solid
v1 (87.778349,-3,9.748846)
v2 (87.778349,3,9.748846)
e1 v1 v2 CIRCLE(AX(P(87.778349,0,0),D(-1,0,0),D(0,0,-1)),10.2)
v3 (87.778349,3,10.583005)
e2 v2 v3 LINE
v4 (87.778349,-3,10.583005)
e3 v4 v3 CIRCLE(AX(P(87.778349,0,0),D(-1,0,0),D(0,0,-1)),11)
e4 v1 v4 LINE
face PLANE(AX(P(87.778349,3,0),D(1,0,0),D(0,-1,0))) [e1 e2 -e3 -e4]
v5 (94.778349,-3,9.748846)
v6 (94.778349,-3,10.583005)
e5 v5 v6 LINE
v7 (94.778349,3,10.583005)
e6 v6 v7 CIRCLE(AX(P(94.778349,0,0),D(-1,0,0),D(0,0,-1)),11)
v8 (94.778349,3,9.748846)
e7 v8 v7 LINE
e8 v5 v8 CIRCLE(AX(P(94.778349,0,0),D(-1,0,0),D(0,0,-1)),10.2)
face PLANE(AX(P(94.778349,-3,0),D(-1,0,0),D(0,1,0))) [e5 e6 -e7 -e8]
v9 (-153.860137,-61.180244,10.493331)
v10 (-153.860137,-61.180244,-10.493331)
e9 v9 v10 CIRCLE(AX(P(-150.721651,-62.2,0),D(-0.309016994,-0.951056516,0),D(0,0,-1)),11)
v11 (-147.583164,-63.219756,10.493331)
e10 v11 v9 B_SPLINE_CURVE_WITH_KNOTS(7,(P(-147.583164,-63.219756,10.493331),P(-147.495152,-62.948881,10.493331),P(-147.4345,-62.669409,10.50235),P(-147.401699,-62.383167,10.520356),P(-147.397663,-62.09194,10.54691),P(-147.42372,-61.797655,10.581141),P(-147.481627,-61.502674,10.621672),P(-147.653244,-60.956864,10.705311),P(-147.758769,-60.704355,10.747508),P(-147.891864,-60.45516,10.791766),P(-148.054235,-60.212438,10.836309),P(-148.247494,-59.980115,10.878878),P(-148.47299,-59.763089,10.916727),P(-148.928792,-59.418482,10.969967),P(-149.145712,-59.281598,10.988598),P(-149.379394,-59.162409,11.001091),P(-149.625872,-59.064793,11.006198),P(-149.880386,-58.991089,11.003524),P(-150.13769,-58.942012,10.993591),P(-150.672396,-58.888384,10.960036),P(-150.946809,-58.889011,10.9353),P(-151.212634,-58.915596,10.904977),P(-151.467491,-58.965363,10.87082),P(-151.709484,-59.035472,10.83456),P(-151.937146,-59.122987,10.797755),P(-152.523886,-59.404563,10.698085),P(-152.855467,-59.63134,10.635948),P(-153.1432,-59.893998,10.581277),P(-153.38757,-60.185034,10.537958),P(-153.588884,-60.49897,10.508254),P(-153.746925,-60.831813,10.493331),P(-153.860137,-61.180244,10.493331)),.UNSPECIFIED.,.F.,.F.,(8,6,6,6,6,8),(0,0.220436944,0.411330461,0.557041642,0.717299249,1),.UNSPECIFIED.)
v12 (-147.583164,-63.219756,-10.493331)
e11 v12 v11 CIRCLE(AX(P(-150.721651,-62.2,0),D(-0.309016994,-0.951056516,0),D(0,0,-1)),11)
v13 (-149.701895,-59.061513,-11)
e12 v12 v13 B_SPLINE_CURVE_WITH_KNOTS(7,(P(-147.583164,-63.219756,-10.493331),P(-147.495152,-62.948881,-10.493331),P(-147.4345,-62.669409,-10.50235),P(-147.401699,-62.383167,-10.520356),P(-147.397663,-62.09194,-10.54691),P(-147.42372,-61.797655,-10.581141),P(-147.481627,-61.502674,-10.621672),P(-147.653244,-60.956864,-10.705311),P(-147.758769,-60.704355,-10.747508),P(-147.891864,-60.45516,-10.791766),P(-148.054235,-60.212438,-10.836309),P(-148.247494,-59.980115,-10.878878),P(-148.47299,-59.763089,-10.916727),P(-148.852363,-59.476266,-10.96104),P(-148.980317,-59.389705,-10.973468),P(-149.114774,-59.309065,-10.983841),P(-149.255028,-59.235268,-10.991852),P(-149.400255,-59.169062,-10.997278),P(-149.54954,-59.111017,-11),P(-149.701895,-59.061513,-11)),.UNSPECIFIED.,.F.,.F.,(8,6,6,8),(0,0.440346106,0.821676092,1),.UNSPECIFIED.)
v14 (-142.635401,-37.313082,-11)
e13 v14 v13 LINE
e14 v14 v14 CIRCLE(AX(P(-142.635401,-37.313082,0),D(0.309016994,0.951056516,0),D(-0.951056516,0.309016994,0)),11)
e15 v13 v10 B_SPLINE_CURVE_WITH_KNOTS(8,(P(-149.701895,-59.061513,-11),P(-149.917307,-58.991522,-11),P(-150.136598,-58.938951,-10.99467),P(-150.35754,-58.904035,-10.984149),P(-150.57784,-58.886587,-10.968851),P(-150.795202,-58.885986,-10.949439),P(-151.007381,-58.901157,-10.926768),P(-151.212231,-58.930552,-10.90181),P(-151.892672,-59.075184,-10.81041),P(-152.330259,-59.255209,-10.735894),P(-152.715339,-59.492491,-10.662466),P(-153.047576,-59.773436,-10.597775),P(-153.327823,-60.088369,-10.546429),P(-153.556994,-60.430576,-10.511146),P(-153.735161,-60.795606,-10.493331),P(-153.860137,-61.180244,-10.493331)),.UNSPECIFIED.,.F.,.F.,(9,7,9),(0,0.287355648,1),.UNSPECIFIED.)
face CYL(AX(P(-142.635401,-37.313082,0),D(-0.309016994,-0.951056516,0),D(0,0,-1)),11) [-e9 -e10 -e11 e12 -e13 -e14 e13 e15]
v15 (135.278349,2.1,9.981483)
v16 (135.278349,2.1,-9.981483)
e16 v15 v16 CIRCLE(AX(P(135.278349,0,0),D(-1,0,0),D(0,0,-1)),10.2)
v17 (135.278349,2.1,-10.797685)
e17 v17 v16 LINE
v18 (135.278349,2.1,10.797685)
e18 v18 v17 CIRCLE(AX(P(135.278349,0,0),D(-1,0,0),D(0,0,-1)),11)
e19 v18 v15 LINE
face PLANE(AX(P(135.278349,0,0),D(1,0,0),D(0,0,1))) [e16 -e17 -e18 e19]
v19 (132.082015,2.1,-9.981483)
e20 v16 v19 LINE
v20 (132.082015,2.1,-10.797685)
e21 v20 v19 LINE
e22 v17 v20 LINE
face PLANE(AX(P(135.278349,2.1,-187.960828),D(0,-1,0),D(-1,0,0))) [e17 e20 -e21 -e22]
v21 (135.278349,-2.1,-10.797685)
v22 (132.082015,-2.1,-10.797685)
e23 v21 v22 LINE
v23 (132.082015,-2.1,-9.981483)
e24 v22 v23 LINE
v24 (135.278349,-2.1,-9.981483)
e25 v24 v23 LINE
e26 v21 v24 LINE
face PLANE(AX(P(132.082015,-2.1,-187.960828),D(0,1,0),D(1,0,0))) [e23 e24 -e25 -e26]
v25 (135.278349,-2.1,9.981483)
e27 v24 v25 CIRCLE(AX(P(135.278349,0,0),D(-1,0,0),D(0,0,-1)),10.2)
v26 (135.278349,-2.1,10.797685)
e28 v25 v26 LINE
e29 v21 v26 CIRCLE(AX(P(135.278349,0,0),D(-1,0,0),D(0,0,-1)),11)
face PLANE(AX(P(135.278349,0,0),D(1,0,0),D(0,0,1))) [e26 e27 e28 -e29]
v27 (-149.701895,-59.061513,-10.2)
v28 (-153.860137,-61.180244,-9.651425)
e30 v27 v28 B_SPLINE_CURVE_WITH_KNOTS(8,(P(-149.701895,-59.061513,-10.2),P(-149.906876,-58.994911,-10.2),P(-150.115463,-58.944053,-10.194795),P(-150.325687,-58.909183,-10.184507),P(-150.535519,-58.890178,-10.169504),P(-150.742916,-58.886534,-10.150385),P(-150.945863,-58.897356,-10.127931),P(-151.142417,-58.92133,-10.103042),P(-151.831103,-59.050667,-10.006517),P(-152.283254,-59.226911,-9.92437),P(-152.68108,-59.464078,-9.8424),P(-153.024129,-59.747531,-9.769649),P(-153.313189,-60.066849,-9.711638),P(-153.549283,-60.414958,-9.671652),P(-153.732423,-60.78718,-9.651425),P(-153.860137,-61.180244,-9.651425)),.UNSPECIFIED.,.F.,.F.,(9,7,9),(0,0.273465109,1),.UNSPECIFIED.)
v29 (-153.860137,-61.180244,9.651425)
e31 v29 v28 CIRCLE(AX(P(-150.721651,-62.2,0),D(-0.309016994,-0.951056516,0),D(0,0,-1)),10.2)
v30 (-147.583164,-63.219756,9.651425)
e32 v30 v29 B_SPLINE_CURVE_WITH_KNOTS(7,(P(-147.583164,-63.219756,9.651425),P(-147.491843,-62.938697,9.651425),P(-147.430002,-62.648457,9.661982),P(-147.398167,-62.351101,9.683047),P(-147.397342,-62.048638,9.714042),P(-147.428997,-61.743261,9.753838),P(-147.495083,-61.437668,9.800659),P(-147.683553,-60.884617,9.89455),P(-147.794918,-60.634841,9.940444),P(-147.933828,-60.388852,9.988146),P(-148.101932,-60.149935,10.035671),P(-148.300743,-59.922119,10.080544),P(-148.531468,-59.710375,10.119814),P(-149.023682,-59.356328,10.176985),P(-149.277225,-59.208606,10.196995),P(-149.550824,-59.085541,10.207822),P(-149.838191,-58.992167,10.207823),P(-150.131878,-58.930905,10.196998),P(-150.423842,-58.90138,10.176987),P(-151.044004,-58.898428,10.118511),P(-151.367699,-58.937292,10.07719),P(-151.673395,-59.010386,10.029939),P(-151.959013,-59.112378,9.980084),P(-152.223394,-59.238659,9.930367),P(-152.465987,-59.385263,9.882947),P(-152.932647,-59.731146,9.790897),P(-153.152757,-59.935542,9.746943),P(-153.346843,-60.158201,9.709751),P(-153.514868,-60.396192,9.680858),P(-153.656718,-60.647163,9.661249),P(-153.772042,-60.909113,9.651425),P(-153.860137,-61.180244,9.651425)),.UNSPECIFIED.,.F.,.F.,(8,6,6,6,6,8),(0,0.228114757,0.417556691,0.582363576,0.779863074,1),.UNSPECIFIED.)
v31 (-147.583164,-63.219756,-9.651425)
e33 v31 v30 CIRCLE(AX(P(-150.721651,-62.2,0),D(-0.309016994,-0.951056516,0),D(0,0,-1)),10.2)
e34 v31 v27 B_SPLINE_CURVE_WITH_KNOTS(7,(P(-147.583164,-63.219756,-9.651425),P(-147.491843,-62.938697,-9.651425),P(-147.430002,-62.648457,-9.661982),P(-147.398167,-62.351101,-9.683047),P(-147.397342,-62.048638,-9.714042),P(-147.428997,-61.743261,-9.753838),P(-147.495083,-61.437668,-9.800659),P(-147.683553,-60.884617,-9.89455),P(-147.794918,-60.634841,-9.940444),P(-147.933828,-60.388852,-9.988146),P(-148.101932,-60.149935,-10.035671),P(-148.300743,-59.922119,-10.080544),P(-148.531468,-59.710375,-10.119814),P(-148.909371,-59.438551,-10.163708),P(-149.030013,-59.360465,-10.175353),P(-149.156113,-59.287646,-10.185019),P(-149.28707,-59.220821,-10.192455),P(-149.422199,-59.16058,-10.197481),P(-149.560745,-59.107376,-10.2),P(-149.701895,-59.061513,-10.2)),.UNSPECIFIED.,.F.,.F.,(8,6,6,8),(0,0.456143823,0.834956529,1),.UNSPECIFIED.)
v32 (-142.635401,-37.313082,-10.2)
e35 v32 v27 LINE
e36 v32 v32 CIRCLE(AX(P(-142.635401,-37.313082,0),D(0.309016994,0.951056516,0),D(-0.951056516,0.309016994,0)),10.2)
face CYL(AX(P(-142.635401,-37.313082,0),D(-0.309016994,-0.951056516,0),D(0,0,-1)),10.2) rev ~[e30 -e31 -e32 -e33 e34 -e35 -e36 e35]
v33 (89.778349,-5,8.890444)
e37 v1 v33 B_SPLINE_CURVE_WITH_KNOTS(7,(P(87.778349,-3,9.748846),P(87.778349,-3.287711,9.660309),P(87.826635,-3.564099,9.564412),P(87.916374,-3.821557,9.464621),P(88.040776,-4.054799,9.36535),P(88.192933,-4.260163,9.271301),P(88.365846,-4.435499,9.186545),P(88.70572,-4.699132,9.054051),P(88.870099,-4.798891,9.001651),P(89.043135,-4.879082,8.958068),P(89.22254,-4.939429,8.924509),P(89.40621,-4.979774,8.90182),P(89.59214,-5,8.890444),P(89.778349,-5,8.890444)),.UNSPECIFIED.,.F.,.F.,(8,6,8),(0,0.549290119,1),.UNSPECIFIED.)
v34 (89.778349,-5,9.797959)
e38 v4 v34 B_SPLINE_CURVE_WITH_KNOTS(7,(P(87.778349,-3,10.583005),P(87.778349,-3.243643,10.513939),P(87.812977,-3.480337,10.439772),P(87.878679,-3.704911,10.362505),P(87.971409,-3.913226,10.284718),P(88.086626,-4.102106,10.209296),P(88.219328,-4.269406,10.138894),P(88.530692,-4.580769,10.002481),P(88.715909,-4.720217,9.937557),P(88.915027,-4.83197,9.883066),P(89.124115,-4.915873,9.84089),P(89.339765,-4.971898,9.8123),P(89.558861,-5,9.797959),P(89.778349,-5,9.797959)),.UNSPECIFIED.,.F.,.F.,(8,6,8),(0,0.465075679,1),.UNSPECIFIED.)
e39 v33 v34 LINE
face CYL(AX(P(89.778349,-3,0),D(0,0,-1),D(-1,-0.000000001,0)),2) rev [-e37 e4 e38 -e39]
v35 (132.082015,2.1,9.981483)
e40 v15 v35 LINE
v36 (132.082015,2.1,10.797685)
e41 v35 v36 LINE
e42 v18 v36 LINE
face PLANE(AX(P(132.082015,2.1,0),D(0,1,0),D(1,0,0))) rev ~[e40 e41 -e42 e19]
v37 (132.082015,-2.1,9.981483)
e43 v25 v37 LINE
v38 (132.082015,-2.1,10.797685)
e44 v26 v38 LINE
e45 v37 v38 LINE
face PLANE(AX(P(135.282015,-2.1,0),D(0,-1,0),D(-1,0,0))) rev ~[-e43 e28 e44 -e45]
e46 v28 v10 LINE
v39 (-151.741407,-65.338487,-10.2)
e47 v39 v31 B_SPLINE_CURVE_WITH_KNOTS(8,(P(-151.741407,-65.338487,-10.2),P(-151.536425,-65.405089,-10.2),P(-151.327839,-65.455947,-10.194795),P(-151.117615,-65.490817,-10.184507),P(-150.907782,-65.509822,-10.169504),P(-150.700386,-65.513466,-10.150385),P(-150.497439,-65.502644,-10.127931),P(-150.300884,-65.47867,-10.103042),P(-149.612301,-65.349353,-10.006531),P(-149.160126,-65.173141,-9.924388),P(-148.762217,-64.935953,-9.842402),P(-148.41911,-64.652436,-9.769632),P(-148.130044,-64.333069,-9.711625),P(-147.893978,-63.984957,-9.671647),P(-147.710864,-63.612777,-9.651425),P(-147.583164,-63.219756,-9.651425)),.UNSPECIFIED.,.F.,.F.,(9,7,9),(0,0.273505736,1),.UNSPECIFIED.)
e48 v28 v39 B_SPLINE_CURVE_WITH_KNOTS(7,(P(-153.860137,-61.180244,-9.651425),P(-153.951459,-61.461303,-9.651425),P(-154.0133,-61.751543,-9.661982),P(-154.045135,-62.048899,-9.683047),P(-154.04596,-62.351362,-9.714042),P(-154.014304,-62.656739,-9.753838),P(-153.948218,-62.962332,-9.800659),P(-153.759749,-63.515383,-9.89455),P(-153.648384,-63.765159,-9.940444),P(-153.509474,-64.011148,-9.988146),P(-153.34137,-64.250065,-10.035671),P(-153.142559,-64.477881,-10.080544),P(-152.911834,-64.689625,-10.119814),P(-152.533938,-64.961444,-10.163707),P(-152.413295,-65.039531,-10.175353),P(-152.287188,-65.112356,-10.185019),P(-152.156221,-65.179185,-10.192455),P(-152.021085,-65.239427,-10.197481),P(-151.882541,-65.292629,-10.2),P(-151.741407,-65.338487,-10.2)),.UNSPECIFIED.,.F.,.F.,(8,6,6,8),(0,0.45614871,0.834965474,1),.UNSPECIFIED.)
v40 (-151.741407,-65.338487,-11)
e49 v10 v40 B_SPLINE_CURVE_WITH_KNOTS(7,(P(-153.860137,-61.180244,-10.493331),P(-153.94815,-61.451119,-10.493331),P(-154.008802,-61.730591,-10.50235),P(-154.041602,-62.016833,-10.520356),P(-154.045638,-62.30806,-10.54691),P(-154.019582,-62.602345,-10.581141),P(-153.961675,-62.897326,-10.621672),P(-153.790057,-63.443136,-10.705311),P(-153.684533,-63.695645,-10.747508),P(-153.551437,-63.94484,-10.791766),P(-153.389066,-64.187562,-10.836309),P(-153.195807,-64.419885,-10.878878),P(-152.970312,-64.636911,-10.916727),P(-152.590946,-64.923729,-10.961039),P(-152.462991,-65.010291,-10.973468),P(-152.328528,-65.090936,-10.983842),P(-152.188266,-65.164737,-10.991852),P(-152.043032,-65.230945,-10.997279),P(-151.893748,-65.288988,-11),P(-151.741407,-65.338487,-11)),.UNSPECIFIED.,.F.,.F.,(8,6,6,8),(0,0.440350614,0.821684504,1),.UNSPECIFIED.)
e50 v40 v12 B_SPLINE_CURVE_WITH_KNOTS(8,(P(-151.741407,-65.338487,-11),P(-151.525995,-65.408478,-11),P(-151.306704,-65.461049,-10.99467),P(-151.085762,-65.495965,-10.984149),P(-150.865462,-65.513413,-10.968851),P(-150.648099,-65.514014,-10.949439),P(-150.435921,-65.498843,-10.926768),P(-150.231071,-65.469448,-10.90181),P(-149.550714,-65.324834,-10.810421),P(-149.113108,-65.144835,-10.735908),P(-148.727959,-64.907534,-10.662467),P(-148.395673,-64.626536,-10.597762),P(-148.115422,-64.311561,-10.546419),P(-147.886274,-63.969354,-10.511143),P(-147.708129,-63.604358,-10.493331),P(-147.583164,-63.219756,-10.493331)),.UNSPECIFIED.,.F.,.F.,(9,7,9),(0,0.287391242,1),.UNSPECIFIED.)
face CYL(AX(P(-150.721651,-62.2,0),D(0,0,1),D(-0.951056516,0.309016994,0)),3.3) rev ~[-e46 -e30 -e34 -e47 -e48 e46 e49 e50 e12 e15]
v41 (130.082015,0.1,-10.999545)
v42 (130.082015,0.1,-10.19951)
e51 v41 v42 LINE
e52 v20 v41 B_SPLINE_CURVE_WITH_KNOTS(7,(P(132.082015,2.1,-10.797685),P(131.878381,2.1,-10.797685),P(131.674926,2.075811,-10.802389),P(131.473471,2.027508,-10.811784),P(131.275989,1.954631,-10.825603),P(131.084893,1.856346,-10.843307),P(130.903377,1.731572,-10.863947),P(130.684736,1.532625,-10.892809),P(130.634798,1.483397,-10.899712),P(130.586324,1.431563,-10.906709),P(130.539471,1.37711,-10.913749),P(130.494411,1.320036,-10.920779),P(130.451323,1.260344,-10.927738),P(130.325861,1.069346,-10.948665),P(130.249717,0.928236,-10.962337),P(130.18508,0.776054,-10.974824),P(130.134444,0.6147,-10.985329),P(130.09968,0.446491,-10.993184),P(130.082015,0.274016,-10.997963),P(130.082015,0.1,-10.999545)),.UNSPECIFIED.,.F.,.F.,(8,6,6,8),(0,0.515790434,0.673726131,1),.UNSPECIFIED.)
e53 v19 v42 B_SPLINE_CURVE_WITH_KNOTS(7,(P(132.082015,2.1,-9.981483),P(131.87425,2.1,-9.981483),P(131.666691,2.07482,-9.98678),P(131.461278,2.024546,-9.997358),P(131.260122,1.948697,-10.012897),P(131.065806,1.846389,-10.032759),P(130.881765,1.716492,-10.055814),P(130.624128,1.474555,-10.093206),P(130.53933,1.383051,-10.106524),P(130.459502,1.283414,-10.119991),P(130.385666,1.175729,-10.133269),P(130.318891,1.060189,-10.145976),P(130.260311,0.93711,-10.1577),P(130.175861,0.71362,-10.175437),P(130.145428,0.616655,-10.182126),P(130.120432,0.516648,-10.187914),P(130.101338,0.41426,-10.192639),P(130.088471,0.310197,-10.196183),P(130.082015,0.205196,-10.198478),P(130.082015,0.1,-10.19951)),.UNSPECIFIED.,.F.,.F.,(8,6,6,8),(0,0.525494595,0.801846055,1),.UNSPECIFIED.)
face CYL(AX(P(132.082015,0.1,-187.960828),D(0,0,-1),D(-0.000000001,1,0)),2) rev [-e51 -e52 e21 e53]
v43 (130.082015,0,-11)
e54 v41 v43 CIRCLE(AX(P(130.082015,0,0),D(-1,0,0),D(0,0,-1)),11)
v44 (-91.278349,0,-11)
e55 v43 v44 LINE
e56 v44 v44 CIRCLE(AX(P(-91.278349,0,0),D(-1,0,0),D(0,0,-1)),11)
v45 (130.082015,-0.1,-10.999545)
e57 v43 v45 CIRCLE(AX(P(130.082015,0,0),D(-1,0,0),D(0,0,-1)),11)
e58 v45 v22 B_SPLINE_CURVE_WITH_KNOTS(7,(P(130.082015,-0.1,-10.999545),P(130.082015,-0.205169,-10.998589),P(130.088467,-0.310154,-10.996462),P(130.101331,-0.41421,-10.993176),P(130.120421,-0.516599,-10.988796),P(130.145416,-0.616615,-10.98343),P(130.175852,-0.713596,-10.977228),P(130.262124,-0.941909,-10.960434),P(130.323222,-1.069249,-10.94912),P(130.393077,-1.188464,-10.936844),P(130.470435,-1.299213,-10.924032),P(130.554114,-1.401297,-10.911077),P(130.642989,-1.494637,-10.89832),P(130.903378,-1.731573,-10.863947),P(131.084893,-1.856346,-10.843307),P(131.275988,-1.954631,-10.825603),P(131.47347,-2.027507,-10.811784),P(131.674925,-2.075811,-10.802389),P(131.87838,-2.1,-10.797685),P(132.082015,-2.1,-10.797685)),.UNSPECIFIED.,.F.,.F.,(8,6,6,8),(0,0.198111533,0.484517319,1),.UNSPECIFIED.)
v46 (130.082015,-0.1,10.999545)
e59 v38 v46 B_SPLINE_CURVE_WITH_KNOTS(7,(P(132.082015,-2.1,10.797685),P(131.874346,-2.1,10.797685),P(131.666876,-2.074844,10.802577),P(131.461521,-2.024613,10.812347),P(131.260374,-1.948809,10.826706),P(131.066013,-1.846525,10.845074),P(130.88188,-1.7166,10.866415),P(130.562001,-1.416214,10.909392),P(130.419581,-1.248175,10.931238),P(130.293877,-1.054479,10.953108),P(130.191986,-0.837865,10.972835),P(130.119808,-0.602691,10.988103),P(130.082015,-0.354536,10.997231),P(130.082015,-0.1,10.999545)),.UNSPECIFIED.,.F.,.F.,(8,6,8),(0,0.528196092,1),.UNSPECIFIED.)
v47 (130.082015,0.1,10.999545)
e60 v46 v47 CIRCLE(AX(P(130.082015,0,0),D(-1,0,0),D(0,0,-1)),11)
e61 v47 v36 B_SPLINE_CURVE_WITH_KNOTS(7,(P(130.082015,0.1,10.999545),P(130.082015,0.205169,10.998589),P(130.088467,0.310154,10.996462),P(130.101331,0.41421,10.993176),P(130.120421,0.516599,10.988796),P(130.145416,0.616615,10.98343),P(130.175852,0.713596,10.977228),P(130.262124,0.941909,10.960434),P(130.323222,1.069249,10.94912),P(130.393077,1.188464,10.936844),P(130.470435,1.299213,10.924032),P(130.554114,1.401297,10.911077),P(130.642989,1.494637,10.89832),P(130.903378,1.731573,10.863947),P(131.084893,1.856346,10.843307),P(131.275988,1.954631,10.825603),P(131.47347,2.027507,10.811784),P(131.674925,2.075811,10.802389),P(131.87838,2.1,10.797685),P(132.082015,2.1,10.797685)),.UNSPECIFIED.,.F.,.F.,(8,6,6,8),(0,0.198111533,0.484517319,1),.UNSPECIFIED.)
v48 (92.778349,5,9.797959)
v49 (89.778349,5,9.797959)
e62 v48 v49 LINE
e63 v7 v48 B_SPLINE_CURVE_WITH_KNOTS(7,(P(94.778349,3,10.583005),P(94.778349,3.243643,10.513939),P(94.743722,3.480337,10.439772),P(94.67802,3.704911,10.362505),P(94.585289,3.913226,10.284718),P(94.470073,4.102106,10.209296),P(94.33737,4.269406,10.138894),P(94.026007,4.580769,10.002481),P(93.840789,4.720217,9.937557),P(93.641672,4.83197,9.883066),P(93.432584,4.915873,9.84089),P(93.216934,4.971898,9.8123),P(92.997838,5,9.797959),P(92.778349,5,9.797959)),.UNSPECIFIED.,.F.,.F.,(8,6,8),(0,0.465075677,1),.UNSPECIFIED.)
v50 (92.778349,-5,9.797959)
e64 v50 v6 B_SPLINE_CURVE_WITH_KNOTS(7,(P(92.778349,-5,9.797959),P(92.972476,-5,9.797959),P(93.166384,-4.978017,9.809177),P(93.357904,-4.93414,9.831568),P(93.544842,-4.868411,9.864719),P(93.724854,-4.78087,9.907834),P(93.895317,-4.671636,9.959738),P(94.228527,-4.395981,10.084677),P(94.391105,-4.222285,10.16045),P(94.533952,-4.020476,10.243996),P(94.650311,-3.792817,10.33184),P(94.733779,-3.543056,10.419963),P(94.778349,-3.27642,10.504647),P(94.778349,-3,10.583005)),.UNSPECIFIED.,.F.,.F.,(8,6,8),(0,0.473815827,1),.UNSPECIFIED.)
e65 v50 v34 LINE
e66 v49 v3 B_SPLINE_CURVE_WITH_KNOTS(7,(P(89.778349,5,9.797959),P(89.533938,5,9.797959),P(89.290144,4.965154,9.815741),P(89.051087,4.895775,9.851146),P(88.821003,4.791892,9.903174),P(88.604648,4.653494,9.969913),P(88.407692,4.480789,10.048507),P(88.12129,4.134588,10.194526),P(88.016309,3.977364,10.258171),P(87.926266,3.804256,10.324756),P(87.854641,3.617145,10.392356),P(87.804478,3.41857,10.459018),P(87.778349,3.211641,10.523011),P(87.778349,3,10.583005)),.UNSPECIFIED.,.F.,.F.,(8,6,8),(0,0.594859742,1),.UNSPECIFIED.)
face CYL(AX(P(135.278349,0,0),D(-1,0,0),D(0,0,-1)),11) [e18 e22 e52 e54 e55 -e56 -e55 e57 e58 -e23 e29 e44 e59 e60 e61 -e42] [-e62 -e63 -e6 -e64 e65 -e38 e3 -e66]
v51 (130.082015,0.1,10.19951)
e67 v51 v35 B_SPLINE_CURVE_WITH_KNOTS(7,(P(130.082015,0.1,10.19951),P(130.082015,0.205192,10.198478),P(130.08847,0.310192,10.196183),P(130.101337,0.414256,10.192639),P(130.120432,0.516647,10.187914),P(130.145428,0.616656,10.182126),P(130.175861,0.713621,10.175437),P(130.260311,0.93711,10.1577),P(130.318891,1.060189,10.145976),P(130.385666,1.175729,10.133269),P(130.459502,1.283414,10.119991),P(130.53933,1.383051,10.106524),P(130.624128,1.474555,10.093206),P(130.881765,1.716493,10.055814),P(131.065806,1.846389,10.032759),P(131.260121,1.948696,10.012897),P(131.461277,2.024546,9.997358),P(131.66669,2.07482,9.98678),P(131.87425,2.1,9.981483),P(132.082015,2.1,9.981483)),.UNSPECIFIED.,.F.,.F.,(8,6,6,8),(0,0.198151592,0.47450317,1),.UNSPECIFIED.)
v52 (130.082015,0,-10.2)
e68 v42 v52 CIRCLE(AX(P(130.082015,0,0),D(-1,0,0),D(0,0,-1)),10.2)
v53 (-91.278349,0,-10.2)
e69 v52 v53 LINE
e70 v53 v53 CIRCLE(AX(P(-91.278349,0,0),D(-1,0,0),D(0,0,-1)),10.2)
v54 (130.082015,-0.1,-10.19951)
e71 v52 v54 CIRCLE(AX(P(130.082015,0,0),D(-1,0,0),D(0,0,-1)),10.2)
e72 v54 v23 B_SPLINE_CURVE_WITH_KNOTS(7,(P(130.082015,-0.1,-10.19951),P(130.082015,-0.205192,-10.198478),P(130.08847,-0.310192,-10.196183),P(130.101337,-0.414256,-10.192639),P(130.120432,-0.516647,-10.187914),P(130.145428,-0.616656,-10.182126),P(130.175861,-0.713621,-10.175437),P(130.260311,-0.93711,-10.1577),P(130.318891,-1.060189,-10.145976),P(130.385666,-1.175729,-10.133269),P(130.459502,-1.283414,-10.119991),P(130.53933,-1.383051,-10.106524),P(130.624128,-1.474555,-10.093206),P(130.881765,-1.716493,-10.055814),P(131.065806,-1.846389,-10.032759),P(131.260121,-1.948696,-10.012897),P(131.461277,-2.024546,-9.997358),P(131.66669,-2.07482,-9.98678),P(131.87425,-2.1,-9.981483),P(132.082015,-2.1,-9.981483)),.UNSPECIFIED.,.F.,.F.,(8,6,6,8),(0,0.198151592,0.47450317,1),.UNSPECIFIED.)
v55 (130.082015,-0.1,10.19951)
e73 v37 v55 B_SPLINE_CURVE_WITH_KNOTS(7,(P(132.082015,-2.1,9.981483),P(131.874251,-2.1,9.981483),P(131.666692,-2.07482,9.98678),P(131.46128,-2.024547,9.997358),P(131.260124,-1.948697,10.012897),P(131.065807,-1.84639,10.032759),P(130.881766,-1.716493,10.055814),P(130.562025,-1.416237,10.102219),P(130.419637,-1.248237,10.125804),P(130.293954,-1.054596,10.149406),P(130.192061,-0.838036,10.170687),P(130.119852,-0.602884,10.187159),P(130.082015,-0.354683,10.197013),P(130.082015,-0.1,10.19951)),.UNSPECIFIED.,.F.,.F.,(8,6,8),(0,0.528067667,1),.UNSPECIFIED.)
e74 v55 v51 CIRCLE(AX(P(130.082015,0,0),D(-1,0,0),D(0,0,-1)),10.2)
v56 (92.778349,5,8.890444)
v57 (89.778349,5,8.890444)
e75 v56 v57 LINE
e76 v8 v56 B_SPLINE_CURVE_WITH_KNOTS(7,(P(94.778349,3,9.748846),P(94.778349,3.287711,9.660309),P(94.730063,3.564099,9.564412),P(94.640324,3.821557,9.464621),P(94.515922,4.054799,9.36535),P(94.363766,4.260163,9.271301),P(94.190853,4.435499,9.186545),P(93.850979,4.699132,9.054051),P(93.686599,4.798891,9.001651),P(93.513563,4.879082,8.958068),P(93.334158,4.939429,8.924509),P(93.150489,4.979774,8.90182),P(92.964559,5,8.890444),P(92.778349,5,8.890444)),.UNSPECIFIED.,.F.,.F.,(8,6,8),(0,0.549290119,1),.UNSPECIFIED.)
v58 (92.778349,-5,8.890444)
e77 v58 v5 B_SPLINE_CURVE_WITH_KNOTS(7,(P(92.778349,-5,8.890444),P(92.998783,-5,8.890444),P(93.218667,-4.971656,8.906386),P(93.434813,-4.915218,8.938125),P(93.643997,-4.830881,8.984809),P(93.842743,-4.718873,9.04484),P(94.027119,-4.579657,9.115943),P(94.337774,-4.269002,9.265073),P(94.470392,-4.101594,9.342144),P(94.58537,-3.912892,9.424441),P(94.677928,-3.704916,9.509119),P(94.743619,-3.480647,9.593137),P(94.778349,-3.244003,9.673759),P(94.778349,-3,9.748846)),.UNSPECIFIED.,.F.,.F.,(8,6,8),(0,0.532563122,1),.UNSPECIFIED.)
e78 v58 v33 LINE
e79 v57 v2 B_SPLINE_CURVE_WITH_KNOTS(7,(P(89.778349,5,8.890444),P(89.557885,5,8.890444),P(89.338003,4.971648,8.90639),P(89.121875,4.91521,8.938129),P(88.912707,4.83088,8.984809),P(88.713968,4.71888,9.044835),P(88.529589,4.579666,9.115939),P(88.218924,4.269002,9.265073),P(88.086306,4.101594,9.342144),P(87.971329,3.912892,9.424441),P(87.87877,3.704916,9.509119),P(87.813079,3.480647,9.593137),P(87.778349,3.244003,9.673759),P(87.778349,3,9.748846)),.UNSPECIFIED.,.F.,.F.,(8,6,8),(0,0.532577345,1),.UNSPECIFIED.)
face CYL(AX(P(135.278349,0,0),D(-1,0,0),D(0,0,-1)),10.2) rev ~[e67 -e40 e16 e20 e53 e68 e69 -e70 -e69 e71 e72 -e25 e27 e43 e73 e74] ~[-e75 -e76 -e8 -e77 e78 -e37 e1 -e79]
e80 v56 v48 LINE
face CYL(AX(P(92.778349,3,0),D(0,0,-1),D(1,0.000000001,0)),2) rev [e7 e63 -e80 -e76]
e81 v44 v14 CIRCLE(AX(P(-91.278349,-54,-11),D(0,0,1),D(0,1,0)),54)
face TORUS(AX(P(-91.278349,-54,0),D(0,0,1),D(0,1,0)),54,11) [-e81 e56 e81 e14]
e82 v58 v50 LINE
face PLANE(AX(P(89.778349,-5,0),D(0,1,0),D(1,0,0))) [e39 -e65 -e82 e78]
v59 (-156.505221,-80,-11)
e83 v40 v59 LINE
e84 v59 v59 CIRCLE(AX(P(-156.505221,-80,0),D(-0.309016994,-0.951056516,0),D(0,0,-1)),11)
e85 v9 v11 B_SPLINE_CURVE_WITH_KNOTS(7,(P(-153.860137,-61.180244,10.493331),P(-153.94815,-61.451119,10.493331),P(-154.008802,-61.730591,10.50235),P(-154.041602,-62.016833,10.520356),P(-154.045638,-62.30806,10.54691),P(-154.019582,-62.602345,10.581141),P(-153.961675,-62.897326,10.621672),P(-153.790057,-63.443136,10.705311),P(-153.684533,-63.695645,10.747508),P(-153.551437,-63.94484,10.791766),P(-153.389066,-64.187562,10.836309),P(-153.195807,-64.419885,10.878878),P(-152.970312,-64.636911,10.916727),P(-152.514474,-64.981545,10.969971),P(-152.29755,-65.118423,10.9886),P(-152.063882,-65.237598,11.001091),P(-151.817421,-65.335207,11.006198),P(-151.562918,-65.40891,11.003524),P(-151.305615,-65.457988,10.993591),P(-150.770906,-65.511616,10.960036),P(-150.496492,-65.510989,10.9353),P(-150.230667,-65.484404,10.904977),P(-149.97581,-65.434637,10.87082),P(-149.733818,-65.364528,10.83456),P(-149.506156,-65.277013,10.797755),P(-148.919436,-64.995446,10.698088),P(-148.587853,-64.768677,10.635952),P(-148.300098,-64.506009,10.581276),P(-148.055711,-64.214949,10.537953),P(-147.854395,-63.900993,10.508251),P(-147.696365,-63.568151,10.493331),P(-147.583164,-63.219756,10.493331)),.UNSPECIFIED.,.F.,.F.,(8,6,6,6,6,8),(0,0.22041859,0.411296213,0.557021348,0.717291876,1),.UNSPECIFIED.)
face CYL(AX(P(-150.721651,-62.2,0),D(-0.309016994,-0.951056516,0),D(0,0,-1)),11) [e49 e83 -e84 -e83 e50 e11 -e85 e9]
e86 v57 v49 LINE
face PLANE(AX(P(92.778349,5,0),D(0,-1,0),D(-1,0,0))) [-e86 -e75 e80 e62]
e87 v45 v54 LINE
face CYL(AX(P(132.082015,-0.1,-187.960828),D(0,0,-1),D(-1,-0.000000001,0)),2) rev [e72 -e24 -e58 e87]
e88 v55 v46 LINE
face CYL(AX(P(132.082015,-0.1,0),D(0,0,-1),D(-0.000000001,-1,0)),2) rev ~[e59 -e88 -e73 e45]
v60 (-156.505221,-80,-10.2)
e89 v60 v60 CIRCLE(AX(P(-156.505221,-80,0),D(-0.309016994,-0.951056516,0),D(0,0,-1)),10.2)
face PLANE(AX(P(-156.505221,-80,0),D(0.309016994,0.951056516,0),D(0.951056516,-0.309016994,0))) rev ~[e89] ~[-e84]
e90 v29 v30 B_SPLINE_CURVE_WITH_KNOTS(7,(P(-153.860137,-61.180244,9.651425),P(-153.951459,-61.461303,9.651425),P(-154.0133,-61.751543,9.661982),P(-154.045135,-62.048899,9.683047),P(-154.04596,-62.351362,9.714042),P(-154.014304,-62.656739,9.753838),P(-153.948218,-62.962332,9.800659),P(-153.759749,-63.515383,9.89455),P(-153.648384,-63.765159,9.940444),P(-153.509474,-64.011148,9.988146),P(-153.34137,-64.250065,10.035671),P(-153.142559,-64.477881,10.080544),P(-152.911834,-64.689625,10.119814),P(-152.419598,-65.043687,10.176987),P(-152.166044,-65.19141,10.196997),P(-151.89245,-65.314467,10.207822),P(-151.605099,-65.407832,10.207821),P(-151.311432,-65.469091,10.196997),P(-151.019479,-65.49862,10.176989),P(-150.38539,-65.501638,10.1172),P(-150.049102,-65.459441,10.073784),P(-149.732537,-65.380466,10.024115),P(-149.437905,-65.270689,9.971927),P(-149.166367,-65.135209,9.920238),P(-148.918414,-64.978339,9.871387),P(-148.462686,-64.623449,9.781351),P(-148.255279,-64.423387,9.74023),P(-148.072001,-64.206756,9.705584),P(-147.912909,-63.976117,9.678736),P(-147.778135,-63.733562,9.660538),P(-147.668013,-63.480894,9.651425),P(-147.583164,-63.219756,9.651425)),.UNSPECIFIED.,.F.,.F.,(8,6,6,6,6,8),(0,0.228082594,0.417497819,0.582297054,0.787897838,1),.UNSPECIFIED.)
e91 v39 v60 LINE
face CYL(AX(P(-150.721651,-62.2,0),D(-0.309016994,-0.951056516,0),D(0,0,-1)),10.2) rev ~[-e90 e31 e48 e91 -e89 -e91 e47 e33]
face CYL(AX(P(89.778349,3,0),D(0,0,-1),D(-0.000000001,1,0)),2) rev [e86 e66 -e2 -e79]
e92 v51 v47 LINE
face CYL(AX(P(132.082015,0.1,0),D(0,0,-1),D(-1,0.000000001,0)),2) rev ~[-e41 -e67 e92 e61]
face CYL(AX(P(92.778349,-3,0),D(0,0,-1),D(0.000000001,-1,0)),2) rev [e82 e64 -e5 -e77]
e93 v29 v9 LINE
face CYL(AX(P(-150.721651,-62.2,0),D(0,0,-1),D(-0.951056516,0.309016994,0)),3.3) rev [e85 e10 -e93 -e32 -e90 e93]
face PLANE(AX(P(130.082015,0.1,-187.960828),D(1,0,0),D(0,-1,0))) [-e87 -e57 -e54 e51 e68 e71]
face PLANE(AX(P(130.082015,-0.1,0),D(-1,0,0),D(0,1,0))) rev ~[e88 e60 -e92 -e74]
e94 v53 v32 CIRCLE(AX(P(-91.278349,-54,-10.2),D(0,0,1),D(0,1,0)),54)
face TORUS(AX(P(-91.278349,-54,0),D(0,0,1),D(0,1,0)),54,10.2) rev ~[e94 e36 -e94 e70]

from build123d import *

# Parameters (mm, degrees)
SKETCH3_R               = 11
SKETCH3_R_2             = 10.2
CUT_EXTRUDE1_REACH      = 188.961
SKETCH4_R               = 3.3
SKETCH5_R               = 3.3
CUT_EXTRUDE2_DEPTH      = 187.960827776
CUT_EXTRUDE3_DEPTH      = 187.960827776
CUT_EXTRUDE3_DEPTH_BACK = 187.960827776


with BuildPart() as part:
    # Sweep2: sweep along a path in Sketch1
    with BuildLine(Plane.XY) as sweep2_path:
        Line((135.278349191, 0), (91.278349191, 0))
        Line((91.278349191, 0), (-91.278349191, 0))
        ThreePointArc((-91.278349191, 0), (-123.018752815, -10.313082304), (-142.635401071, -37.313082304))
        Line((-142.635401071, -37.313082304), (-150.721650809, -62.2))
        Line((-150.721650809, -62.2), (-156.505221402, -80))
    # Sketch3 → Sweep2 (sweep)
    with BuildSketch(Plane(origin=(91.278349191, 0, 0), x_dir=(0, 0, -1), z_dir=(1, 0, 0))):
        Circle(SKETCH3_R)
        Circle(SKETCH3_R_2, mode=Mode.SUBTRACT)
    sweep(path=sweep2_path.line)

    # Sketch4 → Cut-Extrude1 (cut, up to next)
    with BuildSketch(Plane.XY, mode=Mode.PRIVATE) as cut_extrude1_sk1:
        with Locations((-150.721650809, -62.2)):
            Circle(SKETCH4_R)
    cut_extrude1_tool1 = extrude(cut_extrude1_sk1.sketch, amount=CUT_EXTRUDE1_REACH, mode=Mode.PRIVATE) & part.part
    # Sketch4 → Cut-Extrude1 (cut, up to next)
    with BuildSketch(Plane.XY, mode=Mode.PRIVATE) as cut_extrude1_sk2:
        with BuildLine():
            Line((135.282015265, 2.1), (135.282015265, -2.1))
            Line((135.282015265, -2.1), (132.082015265, -2.1))
            ThreePointArc((132.082015265, -2.1), (130.667801703, -1.514213562), (130.082015265, -0.1))
            Line((130.082015265, -0.1), (130.082015265, 0.1))
            ThreePointArc((130.082015265, 0.1), (130.667801703, 1.514213562), (132.082015265, 2.1))
            Line((132.082015265, 2.1), (135.282015265, 2.1))
        make_face()
    cut_extrude1_tool2 = extrude(cut_extrude1_sk2.sketch, amount=CUT_EXTRUDE1_REACH, mode=Mode.PRIVATE) & part.part
    # Sketch4 → Cut-Extrude1 (cut, up to next)
    with BuildSketch(Plane.XY, mode=Mode.PRIVATE) as cut_extrude1_sk3:
        with BuildLine():
            Line((89.778349191, -5), (92.778349191, -5))
            ThreePointArc((92.778349191, -5), (94.192562753, -4.414213562), (94.778349191, -3))
            Line((94.778349191, -3), (94.778349191, 3))
            ThreePointArc((94.778349191, 3), (94.192562753, 4.414213562), (92.778349191, 5))
            Line((92.778349191, 5), (89.778349191, 5))
            ThreePointArc((89.778349191, 5), (88.364135629, 4.414213562), (87.778349191, 3))
            Line((87.778349191, 3), (87.778349191, -3))
            ThreePointArc((87.778349191, -3), (88.364135629, -4.414213562), (89.778349191, -5))
        make_face()
    cut_extrude1_tool3 = extrude(cut_extrude1_sk3.sketch, amount=CUT_EXTRUDE1_REACH, mode=Mode.PRIVATE) & part.part
    add(cut_extrude1_tool1.solids().sort_by_distance((-150.721651, -62.2, 0))[0], mode=Mode.SUBTRACT)
    add(cut_extrude1_tool2.solids().sort_by_distance((132.865722, 0, 0))[0], mode=Mode.SUBTRACT)
    add(cut_extrude1_tool3.solids().sort_by_distance((91.278349, 0, 0))[0], mode=Mode.SUBTRACT)

    # Sketch5 → Cut-Extrude2 (cut, through all)
    with BuildSketch(Plane.XY):
        with Locations((-150.721650809, -62.2)):
            Circle(SKETCH5_R)
    extrude(amount=-CUT_EXTRUDE2_DEPTH, mode=Mode.SUBTRACT)

    # Sketch6 → Cut-Extrude3 (cut, two sides: drawn at the far end of the back side and taken through both)
    with BuildSketch(Plane.XY.offset(-CUT_EXTRUDE3_DEPTH_BACK)):
        with BuildLine():
            Line((130.082015265, 0.1), (130.082015265, -0.1))
            ThreePointArc((130.082015265, -0.1), (130.667801703, -1.514213562), (132.082015265, -2.1))
            Line((132.082015265, -2.1), (135.278349191, -2.1))
            Line((135.278349191, -2.1), (135.278349191, 2.1))
            Line((135.278349191, 2.1), (132.082015265, 2.1))
            ThreePointArc((132.082015265, 2.1), (130.667801703, 1.514213562), (130.082015265, 0.1))
        make_face()
    extrude(amount=CUT_EXTRUDE3_DEPTH + CUT_EXTRUDE3_DEPTH_BACK, mode=Mode.SUBTRACT)


solid = part.part
